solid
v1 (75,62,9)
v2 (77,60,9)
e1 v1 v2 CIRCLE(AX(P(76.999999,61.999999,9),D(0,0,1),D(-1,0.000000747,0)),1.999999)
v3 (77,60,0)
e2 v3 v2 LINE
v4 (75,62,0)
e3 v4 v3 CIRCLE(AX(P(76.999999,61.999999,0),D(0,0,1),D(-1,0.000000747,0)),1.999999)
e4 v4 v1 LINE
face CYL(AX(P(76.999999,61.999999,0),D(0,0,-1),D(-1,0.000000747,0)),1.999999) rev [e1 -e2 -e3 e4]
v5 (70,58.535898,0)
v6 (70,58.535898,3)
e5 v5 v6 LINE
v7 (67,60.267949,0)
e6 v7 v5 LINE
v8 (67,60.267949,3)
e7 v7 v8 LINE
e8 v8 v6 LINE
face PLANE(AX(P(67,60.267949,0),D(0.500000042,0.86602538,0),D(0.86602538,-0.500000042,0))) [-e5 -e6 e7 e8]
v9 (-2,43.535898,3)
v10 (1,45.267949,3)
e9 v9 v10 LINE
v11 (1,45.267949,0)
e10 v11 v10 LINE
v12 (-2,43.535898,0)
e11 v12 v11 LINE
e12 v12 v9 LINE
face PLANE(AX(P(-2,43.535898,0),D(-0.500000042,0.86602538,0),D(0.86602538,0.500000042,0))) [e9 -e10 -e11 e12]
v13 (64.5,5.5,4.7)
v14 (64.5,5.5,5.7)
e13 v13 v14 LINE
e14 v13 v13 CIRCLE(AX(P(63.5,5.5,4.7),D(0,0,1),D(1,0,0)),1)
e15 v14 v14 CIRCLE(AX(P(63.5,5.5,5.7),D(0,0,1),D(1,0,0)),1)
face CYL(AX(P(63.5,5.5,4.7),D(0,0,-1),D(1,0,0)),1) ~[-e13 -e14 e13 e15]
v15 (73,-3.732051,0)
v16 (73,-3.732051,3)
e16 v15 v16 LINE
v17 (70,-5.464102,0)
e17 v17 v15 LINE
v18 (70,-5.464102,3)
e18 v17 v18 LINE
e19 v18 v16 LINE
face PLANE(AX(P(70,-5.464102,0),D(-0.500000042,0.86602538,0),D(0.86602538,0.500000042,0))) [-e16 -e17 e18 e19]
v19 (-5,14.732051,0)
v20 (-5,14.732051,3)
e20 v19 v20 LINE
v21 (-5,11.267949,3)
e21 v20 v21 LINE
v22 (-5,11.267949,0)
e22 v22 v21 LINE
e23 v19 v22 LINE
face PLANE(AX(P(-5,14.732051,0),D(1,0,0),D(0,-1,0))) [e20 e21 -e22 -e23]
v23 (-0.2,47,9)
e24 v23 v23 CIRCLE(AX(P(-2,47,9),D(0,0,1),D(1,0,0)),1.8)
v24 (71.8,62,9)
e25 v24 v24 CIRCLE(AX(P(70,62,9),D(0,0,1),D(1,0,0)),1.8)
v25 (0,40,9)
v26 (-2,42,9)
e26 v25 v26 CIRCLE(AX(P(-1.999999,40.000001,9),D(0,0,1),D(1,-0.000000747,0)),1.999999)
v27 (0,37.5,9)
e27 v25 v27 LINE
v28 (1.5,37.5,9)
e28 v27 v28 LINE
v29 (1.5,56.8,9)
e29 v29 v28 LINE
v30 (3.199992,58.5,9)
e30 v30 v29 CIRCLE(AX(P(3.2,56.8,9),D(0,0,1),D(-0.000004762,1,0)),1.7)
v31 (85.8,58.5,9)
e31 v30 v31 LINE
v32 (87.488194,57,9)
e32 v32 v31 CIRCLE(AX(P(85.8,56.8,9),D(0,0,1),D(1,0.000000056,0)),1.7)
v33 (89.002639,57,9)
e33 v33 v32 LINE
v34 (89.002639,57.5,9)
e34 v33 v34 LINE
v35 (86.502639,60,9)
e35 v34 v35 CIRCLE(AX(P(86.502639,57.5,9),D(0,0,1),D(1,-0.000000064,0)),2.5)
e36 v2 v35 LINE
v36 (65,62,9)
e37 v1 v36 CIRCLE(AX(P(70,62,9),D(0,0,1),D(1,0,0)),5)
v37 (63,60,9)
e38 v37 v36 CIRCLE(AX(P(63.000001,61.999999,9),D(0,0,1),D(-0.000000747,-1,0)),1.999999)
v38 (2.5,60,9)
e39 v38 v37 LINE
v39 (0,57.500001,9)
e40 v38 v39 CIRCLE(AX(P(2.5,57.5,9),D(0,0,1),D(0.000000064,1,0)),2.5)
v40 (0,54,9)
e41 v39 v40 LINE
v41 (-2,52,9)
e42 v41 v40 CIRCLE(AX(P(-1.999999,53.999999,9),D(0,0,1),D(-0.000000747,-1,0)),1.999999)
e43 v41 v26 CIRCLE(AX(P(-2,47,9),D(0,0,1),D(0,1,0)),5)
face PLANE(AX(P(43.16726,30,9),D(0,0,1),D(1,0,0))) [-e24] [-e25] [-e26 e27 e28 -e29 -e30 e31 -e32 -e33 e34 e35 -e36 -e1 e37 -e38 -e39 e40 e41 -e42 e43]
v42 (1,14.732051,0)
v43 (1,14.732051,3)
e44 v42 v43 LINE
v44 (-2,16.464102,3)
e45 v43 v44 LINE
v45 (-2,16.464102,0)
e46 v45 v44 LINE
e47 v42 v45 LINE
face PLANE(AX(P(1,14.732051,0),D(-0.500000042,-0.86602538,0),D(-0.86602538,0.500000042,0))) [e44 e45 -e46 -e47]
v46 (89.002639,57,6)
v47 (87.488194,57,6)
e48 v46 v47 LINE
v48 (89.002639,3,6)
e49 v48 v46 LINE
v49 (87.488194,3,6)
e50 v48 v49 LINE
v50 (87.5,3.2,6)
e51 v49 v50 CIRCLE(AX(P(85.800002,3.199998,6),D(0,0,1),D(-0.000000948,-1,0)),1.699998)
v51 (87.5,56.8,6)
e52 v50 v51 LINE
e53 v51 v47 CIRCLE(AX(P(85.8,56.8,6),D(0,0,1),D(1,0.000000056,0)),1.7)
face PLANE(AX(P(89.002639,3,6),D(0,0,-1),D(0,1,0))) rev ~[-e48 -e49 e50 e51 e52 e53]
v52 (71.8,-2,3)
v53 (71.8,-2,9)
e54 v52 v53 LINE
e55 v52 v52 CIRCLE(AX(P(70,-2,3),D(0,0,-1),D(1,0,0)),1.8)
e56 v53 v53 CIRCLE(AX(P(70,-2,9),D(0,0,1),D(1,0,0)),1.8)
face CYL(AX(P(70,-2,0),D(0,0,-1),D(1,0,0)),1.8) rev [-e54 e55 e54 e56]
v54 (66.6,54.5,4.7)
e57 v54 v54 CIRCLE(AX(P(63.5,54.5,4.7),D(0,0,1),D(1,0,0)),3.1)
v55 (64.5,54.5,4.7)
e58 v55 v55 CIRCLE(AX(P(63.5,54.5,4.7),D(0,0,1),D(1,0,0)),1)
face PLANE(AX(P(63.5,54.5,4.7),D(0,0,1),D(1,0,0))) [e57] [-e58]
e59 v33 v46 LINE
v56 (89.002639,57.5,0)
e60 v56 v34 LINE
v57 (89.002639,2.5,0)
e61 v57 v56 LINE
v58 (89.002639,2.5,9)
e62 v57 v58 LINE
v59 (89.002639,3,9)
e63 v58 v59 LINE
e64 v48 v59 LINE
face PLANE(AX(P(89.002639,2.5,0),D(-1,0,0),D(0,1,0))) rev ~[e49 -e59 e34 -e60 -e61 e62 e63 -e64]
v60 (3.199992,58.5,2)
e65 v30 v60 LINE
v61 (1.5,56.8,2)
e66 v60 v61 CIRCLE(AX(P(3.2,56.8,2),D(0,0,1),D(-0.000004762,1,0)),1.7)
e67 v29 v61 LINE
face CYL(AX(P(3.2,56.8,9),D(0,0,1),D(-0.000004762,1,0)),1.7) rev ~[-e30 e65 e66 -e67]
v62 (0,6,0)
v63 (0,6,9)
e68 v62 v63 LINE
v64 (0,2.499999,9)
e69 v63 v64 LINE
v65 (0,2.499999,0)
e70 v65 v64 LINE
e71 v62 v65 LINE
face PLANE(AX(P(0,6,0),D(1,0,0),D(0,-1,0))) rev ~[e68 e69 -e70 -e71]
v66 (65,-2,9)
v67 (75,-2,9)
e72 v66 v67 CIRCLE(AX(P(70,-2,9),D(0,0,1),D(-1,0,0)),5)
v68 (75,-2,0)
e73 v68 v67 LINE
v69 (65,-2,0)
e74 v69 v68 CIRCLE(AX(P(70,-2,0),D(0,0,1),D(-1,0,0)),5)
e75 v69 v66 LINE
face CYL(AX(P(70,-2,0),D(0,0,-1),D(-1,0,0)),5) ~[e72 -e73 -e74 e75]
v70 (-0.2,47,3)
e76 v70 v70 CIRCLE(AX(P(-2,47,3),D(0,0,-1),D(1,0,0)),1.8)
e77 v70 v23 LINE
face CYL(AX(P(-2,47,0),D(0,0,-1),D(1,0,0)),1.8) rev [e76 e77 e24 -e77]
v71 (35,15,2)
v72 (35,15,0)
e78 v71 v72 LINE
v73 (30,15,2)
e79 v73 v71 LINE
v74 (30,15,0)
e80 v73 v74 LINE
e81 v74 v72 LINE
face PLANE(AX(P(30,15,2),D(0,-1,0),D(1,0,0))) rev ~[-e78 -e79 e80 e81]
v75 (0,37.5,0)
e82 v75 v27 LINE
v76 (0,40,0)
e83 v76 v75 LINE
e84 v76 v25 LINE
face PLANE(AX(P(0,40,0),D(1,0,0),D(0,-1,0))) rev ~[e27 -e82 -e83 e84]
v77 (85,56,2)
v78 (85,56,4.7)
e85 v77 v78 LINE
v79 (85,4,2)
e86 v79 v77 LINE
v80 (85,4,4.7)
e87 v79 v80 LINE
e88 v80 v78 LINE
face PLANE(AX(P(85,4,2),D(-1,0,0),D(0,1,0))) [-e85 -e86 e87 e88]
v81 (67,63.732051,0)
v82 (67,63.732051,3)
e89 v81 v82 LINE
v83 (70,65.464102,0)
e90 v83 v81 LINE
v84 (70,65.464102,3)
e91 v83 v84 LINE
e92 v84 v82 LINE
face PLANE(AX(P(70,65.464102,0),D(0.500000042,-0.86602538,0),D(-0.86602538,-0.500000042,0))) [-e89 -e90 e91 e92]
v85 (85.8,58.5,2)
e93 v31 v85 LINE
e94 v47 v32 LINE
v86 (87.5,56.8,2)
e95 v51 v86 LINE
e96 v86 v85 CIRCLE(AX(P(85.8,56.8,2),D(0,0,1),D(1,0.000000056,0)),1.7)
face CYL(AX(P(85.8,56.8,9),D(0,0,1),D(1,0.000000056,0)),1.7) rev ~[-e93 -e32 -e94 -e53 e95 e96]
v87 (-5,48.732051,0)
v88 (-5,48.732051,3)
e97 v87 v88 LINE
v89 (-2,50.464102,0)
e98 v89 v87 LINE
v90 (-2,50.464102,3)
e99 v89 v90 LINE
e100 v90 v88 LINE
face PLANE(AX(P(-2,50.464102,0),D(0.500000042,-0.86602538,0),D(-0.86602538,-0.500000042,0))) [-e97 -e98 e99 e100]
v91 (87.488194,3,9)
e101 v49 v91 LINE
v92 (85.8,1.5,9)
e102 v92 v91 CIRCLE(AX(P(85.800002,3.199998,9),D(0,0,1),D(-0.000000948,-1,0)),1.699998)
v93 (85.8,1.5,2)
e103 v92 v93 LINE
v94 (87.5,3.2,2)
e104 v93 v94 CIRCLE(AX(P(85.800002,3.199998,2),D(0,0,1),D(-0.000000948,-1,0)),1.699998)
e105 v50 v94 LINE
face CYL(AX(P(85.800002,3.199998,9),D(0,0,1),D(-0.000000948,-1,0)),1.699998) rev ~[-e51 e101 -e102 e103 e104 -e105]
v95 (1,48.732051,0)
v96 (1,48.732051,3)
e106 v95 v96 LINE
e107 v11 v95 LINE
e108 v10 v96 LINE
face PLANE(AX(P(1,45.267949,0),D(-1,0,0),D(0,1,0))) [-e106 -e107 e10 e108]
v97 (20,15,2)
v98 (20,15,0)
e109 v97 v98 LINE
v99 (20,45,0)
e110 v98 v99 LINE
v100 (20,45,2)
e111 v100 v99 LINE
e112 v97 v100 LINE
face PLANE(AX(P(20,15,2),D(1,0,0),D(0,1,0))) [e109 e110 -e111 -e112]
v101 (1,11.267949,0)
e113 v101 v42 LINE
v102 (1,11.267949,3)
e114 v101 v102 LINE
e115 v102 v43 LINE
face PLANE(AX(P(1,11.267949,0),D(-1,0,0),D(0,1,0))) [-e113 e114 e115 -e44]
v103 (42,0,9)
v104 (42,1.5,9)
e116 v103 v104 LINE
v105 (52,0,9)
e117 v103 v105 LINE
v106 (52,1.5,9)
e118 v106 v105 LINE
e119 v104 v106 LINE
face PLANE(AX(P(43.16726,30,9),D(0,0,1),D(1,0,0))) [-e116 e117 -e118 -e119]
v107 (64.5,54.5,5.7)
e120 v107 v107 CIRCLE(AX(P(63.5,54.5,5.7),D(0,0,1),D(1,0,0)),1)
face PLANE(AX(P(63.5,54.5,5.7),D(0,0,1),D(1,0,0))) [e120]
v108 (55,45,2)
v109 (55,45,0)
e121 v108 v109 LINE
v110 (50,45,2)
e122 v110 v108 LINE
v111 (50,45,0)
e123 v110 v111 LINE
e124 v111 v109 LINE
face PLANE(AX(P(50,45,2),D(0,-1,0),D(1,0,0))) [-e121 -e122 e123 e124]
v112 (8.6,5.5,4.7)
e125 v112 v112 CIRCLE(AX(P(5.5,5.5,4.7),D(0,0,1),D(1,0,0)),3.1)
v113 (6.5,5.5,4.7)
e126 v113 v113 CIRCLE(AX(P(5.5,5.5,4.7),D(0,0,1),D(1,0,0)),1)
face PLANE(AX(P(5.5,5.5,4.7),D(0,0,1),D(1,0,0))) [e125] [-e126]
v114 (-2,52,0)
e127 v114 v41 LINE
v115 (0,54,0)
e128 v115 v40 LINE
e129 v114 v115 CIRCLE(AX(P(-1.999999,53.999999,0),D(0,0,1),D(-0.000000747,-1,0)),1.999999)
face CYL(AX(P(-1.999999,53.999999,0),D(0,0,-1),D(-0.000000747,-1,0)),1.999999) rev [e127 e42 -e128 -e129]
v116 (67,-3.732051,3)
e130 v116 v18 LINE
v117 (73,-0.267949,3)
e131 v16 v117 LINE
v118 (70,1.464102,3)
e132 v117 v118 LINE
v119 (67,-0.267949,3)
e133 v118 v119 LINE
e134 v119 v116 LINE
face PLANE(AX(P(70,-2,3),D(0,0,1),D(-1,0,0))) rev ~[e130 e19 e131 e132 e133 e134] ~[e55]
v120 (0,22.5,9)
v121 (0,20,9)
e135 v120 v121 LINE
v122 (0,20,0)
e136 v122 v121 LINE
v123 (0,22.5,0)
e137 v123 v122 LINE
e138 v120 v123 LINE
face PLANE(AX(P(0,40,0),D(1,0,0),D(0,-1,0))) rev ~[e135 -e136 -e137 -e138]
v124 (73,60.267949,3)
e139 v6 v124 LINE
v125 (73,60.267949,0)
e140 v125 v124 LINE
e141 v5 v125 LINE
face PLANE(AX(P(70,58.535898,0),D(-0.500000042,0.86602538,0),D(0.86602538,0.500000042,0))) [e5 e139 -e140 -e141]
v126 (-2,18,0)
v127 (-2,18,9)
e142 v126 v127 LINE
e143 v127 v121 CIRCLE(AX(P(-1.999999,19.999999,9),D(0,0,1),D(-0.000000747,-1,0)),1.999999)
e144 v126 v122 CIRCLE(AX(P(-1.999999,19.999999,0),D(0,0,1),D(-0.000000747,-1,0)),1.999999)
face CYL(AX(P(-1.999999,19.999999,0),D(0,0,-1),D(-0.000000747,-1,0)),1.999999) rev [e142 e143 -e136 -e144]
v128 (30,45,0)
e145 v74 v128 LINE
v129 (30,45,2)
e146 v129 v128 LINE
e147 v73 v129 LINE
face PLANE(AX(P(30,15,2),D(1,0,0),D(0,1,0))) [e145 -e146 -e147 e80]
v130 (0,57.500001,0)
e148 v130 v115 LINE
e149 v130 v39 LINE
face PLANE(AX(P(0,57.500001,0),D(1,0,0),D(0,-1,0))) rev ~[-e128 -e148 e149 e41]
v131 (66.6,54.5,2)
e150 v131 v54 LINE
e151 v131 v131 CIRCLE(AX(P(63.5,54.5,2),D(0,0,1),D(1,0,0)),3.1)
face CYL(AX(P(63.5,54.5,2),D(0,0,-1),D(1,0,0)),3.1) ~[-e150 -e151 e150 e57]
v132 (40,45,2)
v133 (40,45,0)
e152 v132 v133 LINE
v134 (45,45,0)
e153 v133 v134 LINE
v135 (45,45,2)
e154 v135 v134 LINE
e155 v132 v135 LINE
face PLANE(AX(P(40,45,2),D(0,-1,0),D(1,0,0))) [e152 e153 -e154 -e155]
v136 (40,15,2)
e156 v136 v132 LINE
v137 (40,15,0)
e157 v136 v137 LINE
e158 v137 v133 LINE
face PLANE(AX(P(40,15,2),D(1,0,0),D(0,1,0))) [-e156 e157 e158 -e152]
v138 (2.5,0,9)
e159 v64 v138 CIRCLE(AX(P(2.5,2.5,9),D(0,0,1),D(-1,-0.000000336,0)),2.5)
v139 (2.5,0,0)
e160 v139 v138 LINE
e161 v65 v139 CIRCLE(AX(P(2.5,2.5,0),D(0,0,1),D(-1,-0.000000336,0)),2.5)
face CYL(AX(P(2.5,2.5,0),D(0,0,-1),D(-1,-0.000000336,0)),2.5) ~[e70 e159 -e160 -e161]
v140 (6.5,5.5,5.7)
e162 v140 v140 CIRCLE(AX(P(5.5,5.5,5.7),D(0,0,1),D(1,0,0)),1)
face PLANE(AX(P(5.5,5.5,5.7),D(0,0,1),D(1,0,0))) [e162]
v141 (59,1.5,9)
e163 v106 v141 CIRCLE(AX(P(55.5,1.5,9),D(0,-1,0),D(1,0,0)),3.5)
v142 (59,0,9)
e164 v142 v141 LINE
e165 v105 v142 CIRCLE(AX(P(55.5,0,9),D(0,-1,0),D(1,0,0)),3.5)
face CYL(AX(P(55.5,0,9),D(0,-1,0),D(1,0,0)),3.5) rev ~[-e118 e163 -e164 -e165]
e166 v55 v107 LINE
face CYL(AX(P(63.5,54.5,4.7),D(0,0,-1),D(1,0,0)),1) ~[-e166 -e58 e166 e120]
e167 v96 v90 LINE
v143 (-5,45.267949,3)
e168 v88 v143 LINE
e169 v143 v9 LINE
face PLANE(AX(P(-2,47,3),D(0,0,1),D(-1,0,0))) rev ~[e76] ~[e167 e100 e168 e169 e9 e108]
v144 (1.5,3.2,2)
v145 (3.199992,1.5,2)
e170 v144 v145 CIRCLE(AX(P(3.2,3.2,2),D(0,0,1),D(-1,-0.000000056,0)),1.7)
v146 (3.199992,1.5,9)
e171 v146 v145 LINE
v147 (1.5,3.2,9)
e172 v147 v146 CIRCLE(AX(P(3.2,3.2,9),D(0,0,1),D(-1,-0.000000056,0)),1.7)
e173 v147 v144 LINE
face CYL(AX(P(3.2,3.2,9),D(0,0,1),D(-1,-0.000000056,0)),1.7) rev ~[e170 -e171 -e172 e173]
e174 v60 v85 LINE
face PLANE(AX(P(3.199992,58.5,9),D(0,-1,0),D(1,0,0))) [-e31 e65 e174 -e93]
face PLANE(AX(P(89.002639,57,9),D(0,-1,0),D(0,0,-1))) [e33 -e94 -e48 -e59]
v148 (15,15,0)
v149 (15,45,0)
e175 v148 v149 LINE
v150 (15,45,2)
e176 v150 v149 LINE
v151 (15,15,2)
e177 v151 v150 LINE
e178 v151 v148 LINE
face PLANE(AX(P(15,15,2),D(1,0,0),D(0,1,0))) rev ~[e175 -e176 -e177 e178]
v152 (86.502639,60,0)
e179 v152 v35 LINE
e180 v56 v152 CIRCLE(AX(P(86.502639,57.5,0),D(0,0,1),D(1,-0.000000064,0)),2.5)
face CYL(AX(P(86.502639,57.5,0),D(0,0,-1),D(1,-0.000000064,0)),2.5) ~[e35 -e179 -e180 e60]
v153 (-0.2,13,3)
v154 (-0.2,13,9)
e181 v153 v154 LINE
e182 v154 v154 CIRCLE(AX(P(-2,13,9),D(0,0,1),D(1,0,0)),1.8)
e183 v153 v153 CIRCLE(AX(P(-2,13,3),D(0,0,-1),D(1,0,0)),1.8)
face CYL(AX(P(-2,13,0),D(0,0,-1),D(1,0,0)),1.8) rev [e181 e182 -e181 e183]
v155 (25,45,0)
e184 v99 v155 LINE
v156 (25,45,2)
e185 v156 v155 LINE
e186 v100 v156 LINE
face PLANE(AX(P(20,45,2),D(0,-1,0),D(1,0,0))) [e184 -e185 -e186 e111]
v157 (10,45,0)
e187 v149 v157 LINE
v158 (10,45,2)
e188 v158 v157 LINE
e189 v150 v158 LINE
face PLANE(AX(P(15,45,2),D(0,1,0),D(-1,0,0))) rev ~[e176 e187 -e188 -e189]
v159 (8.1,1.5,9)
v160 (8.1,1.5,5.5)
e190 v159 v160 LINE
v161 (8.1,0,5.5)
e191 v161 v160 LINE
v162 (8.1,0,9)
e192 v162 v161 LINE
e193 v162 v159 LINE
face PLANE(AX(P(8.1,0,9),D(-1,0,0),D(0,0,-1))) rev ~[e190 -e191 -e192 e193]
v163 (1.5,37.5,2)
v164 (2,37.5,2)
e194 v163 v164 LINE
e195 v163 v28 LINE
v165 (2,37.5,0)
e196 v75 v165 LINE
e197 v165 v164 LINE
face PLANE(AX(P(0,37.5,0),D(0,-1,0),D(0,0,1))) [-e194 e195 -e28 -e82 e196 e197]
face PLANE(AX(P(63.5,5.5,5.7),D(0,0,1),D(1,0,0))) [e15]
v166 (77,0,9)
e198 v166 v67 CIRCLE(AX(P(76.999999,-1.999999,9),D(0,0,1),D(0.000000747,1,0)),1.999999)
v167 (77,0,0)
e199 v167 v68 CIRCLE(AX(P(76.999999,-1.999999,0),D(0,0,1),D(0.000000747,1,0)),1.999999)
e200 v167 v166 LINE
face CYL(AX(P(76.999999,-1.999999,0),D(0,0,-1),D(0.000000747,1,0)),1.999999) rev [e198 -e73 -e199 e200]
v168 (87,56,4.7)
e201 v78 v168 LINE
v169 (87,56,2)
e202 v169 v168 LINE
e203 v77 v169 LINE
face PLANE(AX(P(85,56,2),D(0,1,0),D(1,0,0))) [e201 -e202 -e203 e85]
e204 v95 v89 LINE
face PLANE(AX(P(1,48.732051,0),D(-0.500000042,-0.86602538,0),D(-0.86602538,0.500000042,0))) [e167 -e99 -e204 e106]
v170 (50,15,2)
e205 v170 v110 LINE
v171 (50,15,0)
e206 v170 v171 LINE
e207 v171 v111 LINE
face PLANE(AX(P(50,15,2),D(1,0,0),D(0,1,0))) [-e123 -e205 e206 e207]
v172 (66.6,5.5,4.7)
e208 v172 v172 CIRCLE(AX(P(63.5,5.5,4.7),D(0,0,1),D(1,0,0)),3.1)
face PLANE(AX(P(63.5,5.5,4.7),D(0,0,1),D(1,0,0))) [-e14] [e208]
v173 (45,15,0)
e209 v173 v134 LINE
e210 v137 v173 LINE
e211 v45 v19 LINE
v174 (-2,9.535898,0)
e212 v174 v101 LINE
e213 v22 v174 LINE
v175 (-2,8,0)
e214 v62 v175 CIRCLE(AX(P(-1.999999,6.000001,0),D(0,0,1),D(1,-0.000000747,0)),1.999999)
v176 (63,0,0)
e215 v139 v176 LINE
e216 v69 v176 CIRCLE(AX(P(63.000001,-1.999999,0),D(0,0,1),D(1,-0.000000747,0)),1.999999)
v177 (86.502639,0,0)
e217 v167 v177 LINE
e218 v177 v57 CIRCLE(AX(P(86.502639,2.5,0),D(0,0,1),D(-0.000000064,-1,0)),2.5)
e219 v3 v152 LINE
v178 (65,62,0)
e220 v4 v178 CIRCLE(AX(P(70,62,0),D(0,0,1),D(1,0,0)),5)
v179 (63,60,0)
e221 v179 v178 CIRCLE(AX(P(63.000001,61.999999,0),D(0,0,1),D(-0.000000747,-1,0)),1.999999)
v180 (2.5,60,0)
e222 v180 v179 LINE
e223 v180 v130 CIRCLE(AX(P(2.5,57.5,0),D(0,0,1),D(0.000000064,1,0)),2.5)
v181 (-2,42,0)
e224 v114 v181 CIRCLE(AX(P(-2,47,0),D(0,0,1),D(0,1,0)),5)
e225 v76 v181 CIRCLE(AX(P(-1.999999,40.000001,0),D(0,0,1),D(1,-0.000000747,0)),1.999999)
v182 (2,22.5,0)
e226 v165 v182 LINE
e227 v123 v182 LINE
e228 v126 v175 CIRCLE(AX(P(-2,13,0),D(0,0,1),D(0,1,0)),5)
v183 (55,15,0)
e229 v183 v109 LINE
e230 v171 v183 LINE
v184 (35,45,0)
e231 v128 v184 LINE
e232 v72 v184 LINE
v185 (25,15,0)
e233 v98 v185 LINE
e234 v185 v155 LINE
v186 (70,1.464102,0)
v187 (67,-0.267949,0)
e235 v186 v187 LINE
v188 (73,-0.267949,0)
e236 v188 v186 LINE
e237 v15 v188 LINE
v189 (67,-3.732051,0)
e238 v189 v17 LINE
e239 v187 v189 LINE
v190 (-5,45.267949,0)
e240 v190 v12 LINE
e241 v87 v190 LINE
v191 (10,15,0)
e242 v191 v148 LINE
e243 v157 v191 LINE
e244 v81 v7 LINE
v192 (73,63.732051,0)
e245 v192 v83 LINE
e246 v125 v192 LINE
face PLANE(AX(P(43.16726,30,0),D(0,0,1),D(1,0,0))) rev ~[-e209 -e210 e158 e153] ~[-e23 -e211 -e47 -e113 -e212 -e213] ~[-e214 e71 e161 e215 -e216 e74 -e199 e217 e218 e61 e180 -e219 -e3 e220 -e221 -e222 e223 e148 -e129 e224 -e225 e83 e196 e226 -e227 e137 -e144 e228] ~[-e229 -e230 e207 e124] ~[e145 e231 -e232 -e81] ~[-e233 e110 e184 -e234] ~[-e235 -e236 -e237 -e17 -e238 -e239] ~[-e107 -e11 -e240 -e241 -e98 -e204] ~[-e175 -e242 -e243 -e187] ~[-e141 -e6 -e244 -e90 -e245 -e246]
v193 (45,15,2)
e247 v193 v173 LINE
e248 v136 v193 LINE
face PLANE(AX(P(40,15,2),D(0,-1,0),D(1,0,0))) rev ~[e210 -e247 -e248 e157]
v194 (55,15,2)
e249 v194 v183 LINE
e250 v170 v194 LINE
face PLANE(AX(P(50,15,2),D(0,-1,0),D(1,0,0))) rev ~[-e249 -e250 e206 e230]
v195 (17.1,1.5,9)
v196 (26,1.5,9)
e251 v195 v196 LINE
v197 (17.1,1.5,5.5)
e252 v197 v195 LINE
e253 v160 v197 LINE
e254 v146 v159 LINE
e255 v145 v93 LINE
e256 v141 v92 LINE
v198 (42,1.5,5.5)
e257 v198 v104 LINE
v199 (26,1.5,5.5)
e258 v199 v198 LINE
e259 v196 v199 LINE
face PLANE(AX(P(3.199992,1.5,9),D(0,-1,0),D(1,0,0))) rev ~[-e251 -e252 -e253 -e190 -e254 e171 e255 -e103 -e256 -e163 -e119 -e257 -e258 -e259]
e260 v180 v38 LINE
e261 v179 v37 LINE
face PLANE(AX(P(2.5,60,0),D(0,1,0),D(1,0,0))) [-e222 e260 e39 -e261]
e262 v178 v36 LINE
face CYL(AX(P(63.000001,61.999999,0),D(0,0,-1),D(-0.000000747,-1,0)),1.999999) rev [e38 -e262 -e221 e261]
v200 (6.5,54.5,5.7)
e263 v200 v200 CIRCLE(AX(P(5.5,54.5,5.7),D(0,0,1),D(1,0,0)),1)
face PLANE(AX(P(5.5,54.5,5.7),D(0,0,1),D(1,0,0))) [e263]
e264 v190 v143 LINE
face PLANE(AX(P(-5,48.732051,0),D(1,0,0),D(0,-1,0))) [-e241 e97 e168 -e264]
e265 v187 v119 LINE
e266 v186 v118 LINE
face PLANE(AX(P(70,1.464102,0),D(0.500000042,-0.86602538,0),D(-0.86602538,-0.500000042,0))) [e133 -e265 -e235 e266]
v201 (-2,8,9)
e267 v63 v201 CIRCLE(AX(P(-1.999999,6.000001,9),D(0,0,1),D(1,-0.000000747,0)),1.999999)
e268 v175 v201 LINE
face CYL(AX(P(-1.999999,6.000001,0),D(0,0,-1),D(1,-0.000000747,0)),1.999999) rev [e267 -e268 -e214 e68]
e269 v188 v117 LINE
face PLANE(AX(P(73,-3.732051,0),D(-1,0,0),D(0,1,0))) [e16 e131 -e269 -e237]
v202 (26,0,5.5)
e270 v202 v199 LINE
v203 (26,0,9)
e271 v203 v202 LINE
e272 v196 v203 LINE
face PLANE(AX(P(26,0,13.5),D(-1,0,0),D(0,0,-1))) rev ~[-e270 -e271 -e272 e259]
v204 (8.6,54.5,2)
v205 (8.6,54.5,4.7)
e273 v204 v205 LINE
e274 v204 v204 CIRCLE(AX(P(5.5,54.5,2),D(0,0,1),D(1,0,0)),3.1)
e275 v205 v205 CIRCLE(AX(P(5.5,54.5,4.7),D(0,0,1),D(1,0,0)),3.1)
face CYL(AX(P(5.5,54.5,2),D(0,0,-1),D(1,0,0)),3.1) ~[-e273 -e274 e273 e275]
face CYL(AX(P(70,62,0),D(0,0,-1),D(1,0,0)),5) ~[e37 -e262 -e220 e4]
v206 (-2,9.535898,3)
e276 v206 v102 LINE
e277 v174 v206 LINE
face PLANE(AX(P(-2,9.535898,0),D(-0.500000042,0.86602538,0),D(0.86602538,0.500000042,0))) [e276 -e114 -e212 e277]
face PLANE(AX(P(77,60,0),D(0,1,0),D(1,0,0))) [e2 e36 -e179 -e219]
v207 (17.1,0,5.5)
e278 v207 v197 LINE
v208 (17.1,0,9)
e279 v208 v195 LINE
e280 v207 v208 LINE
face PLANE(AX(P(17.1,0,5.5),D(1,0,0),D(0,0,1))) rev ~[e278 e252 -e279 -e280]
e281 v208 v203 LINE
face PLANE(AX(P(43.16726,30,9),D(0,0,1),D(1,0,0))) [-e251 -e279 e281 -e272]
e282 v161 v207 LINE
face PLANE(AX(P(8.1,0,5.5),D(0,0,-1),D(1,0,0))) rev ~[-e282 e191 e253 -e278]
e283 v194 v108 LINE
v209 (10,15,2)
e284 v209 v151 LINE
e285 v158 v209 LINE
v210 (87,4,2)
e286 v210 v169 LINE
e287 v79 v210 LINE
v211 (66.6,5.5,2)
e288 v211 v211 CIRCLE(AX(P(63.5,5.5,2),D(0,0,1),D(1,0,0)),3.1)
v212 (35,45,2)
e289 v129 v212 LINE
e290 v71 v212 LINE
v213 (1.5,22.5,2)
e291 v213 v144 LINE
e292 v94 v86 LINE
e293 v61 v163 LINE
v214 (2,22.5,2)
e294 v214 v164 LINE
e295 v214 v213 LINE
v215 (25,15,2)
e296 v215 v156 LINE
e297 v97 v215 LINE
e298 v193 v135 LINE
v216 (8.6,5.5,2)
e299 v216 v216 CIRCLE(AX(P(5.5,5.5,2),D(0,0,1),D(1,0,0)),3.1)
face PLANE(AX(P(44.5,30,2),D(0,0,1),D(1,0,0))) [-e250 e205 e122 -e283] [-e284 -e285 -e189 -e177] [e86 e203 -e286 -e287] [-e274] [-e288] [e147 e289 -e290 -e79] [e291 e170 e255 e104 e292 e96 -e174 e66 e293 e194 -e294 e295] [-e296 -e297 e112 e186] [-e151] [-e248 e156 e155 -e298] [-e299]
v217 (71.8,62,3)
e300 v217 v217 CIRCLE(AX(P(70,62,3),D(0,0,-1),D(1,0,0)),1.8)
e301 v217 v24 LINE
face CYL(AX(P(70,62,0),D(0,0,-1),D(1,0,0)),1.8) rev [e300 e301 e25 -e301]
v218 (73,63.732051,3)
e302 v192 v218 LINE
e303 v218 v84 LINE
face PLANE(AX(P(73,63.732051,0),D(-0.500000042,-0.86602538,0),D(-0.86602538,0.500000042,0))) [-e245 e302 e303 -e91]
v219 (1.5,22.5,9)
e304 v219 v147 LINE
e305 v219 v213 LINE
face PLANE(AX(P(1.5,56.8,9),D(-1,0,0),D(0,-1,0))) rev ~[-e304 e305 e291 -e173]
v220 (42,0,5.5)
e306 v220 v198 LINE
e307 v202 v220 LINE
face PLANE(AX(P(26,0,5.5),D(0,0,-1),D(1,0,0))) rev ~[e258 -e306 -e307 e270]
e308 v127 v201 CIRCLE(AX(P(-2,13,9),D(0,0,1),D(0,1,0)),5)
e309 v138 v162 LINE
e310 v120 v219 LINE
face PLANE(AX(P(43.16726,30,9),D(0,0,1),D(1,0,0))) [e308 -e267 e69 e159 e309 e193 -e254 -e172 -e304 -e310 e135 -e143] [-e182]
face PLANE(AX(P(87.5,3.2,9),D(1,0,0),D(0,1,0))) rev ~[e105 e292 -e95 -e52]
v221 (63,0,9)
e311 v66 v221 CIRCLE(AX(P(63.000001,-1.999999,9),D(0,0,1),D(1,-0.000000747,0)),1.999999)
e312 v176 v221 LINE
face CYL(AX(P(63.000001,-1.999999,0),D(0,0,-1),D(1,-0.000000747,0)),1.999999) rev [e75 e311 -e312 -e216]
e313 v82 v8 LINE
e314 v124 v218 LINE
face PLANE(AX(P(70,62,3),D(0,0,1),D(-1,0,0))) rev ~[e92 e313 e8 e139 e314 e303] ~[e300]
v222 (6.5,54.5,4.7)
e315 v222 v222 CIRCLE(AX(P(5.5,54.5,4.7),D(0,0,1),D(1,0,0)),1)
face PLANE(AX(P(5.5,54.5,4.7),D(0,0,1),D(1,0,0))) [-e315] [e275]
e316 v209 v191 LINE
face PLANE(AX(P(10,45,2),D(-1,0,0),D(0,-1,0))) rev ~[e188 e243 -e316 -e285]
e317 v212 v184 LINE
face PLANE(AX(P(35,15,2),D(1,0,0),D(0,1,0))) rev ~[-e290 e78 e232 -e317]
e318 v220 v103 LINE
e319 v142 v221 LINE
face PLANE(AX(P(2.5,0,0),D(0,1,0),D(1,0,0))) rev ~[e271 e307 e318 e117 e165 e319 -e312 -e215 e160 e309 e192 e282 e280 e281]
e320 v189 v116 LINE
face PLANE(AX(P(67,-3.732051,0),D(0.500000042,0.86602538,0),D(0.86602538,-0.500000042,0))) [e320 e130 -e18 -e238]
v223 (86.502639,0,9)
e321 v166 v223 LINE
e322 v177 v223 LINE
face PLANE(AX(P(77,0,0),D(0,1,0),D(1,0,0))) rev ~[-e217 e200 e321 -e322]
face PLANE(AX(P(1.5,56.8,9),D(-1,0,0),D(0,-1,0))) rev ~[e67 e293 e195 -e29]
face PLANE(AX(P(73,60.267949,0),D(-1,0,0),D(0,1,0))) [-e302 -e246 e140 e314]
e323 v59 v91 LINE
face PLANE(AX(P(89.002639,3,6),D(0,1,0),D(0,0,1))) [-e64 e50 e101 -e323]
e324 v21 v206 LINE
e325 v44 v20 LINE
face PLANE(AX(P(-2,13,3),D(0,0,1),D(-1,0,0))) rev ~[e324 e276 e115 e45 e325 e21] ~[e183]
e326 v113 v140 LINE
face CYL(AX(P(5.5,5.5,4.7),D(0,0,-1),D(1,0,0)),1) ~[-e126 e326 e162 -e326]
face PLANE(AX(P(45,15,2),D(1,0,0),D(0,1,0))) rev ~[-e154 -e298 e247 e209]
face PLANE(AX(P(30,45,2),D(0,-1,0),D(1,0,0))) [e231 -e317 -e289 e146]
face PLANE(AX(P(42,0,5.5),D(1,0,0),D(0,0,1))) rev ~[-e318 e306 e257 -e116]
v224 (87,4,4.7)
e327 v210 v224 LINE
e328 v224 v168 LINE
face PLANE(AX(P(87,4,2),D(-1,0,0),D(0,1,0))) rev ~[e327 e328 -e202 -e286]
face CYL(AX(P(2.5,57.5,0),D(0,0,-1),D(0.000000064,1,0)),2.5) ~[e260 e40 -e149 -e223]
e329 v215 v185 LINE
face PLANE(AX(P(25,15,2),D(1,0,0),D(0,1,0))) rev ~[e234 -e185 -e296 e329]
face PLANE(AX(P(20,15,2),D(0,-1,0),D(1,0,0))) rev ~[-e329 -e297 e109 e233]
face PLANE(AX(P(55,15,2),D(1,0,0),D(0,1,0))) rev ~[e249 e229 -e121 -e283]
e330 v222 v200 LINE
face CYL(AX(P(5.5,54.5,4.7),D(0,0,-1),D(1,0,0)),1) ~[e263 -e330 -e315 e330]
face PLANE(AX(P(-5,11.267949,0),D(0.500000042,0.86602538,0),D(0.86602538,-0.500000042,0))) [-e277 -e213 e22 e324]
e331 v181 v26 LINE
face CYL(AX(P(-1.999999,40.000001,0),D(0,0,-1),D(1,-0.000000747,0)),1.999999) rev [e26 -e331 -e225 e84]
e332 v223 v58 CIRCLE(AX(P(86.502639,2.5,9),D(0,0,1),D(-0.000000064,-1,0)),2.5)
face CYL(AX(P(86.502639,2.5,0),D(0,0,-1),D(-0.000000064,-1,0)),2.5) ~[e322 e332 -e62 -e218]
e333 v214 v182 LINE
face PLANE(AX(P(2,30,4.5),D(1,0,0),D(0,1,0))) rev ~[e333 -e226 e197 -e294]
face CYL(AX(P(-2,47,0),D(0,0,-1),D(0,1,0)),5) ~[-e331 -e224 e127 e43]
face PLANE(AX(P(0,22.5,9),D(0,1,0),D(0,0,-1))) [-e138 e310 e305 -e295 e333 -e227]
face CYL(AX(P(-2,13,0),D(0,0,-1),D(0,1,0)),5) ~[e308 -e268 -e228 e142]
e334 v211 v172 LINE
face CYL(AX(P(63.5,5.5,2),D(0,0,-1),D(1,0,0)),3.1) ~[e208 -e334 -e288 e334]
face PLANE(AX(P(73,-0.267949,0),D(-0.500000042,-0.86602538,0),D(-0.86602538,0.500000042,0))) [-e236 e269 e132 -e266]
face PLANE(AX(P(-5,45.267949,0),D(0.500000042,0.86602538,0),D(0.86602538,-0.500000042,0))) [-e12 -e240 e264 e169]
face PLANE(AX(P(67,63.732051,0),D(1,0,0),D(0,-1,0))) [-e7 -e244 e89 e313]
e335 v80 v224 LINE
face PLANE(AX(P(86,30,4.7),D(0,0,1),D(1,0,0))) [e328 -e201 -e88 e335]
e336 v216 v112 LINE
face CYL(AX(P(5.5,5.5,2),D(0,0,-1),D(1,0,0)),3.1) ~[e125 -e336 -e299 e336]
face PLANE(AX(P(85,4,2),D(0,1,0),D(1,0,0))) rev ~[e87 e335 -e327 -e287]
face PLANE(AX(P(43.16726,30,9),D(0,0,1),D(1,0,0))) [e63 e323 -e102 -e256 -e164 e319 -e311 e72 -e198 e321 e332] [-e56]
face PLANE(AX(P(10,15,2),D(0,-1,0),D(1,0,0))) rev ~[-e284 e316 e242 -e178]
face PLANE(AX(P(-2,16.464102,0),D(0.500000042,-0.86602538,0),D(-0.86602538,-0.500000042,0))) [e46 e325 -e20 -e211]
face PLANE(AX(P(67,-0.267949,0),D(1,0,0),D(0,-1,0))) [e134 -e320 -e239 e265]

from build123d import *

# Parameters (mm, degrees)
SKETCH_R        = 1.8
PAD_DEPTH       = 9
POCKET_DEPTH    = 7
SKETCH002_R     = 3.1
SKETCH002_W     = 2
SKETCH002_H     = 52
PAD001_DEPTH    = 2.7
SKETCH003_R     = 1
PAD002_DEPTH    = 1
POCKET001_DEPTH = 2
POCKET002_DEPTH = 2
SKETCH006_R     = 3.5
POCKET003_DEPTH = 5
POCKET004_DEPTH = 3
SKETCH009_W     = 5
SKETCH009_H     = 30
POCKET005_DEPTH = 5


with BuildPart() as part:
    # Sketch → Pad (new body)
    with BuildSketch(Plane.XY):
        with BuildLine():
            Line((89.002639, 2.5), (89.002639, 57.5))
            ThreePointArc((89.002639, 57.5), (88.270406, 59.267767), (86.502639, 60))
            Line((77, 60), (86.502639, 60))
            ThreePointArc((75, 62), (75.585786, 60.585786), (77, 60))
            ThreePointArc((75, 62), (70, 67), (65, 62))
            ThreePointArc((63, 60), (64.414214, 60.585786), (65, 62))
            Line((2.5, 60), (63, 60))
            ThreePointArc((2.5, 60), (0.732233, 59.267767), (0, 57.500001))
            Line((0, 57.500001), (0, 54))
            ThreePointArc((-2, 52), (-0.585786, 52.585786), (0, 54))
            ThreePointArc((-2, 52), (-7, 47), (-2, 42))
            ThreePointArc((0, 40), (-0.585786, 41.414214), (-2, 42))
            Line((0, 40), (0, 20))
            ThreePointArc((-2, 18), (-0.585786, 18.585786), (0, 20))
            ThreePointArc((-2, 18), (-7, 13), (-2, 8))
            ThreePointArc((0, 6), (-0.585786, 7.414214), (-2, 8))
            Line((0, 6), (0, 2.499999))
            ThreePointArc((0, 2.499999), (0.732233, 0.732233), (2.5, 0))
            Line((2.5, 0), (63, 0))
            ThreePointArc((65, -2), (64.414214, -0.585786), (63, 0))
            ThreePointArc((65, -2), (70, -7), (75, -2))
            ThreePointArc((77, 0), (75.585786, -0.585786), (75, -2))
            Line((77, 0), (86.502639, 0))
            ThreePointArc((86.502639, 0), (88.270406, 0.732233), (89.002639, 2.5))
        make_face()
        with Locations((70, 62)):
            Circle(SKETCH_R, mode=Mode.SUBTRACT)
        with Locations((-2, 47)):
            Circle(SKETCH_R, mode=Mode.SUBTRACT)
        with Locations((-2, 13)):
            Circle(SKETCH_R, mode=Mode.SUBTRACT)
        with Locations((70, -2)):
            Circle(SKETCH_R, mode=Mode.SUBTRACT)
    extrude(amount=PAD_DEPTH)

    # Sketch001 → Pocket (cut)
    with BuildSketch(Plane.XY.offset(9)):
        with BuildLine():
            Line((87.5, 3.2), (87.5, 56.8))
            ThreePointArc((87.5, 56.8), (87.002082, 58.002081), (85.8, 58.5))
            Line((3.199992, 58.5), (85.8, 58.5))
            ThreePointArc((3.199992, 58.5), (1.997916, 58.002079), (1.5, 56.8))
            Line((1.5, 56.8), (1.5, 3.2))
            ThreePointArc((1.5, 3.2), (1.997916, 1.997921), (3.199992, 1.5))
            Line((3.199992, 1.5), (85.8, 1.5))
            ThreePointArc((85.8, 1.5), (87.002082, 1.997918), (87.5, 3.2))
        make_face()
    extrude(amount=-POCKET_DEPTH, mode=Mode.SUBTRACT)

    # Sketch002 → Pad001 (new body)
    with BuildSketch(Plane.XY.offset(2)):
        with Locations((5.5, 5.5)):
            Circle(SKETCH002_R)
        with Locations((5.5, 54.5)):
            Circle(SKETCH002_R)
        with Locations((63.5, 54.5)):
            Circle(SKETCH002_R)
        with Locations((63.5, 5.5)):
            Circle(SKETCH002_R)
        with Locations((86, 30)):
            Rectangle(SKETCH002_W, SKETCH002_H)
    extrude(amount=PAD001_DEPTH)

    # Sketch003 → Pad002 (new body)
    with BuildSketch(Plane.XY.offset(4.7)):
        with Locations((5.5, 54.5)):
            Circle(SKETCH003_R)
        with Locations((63.5, 54.5)):
            Circle(SKETCH003_R)
        with Locations((63.5, 5.5)):
            Circle(SKETCH003_R)
        with Locations((5.5, 5.5)):
            Circle(SKETCH003_R)
    extrude(amount=PAD002_DEPTH)

    # Sketch004 → Pocket001 (cut)
    with BuildSketch(Plane(origin=(0, 0, 0), x_dir=(0, -1, 0), z_dir=(-1, 0, 0))):
        Polygon((-37.5, 9), (-22.5, 9), (-22.5, 0), (-30, 0), (-37.5, 0), align=None)
    extrude(amount=-POCKET001_DEPTH, mode=Mode.SUBTRACT)

    # Sketch005 → Pocket002 (cut)
    with BuildSketch(Plane.YZ.offset(89.002639)):
        Polygon((3, 9), (57, 9), (57, 6), (30, 6), (3, 6), align=None)
    extrude(amount=-POCKET002_DEPTH, mode=Mode.SUBTRACT)

    # Sketch006 → Pocket003 (cut)
    with BuildSketch(Plane.XZ):
        with Locations((55.5, 9)):
            Circle(SKETCH006_R)
        Polygon((42, 5.5), (42, 13.5), (26, 13.5), (26, 5.5), (34, 5.5), align=None)
        Polygon((17.1, 5.5), (17.1, 9), (8.1, 9), (8.1, 5.5), (12.6, 5.5), align=None)
    extrude(amount=-POCKET003_DEPTH, mode=Mode.SUBTRACT)

    # Sketch008 → Pocket004 (cut)
    with BuildSketch(Plane(origin=(0, 0, 0), x_dir=(1, 0, 0), z_dir=(0, 0, -1))):
        Polygon((-5, -14.732051), (-5, -11.267949), (-2, -9.535898), (1, -11.267949), (1, -14.732051), (-2, -16.464102), align=None)
        Polygon((-5, -48.732051), (-5, -45.267949), (-2, -43.535898), (1, -45.267949), (1, -48.732051), (-2, -50.464102), align=None)
        Polygon((67, 0.267949), (67, 3.732051), (70, 5.464102), (73, 3.732051), (73, 0.267949), (70, -1.464102), align=None)
        Polygon((67, -63.732051), (67, -60.267949), (70, -58.535898), (73, -60.267949), (73, -63.732051), (70, -65.464102), align=None)
    extrude(amount=-POCKET004_DEPTH, mode=Mode.SUBTRACT)

    # Sketch009 → Pocket005 (cut)
    with BuildSketch(Plane.XY.offset(2)):
        Polygon((10, 15), (15, 15), (15, 45), (10, 45), (10, 30), align=None)
        with Locations((22.5, 30)):
            Rectangle(SKETCH009_W, SKETCH009_H)
        with Locations((32.5, 30)):
            Rectangle(SKETCH009_W, SKETCH009_H)
        with Locations((42.5, 30)):
            Rectangle(SKETCH009_W, SKETCH009_H)
        with Locations((52.5, 30)):
            Rectangle(SKETCH009_W, SKETCH009_H)
    extrude(amount=-POCKET005_DEPTH, mode=Mode.SUBTRACT)


solid = part.part
